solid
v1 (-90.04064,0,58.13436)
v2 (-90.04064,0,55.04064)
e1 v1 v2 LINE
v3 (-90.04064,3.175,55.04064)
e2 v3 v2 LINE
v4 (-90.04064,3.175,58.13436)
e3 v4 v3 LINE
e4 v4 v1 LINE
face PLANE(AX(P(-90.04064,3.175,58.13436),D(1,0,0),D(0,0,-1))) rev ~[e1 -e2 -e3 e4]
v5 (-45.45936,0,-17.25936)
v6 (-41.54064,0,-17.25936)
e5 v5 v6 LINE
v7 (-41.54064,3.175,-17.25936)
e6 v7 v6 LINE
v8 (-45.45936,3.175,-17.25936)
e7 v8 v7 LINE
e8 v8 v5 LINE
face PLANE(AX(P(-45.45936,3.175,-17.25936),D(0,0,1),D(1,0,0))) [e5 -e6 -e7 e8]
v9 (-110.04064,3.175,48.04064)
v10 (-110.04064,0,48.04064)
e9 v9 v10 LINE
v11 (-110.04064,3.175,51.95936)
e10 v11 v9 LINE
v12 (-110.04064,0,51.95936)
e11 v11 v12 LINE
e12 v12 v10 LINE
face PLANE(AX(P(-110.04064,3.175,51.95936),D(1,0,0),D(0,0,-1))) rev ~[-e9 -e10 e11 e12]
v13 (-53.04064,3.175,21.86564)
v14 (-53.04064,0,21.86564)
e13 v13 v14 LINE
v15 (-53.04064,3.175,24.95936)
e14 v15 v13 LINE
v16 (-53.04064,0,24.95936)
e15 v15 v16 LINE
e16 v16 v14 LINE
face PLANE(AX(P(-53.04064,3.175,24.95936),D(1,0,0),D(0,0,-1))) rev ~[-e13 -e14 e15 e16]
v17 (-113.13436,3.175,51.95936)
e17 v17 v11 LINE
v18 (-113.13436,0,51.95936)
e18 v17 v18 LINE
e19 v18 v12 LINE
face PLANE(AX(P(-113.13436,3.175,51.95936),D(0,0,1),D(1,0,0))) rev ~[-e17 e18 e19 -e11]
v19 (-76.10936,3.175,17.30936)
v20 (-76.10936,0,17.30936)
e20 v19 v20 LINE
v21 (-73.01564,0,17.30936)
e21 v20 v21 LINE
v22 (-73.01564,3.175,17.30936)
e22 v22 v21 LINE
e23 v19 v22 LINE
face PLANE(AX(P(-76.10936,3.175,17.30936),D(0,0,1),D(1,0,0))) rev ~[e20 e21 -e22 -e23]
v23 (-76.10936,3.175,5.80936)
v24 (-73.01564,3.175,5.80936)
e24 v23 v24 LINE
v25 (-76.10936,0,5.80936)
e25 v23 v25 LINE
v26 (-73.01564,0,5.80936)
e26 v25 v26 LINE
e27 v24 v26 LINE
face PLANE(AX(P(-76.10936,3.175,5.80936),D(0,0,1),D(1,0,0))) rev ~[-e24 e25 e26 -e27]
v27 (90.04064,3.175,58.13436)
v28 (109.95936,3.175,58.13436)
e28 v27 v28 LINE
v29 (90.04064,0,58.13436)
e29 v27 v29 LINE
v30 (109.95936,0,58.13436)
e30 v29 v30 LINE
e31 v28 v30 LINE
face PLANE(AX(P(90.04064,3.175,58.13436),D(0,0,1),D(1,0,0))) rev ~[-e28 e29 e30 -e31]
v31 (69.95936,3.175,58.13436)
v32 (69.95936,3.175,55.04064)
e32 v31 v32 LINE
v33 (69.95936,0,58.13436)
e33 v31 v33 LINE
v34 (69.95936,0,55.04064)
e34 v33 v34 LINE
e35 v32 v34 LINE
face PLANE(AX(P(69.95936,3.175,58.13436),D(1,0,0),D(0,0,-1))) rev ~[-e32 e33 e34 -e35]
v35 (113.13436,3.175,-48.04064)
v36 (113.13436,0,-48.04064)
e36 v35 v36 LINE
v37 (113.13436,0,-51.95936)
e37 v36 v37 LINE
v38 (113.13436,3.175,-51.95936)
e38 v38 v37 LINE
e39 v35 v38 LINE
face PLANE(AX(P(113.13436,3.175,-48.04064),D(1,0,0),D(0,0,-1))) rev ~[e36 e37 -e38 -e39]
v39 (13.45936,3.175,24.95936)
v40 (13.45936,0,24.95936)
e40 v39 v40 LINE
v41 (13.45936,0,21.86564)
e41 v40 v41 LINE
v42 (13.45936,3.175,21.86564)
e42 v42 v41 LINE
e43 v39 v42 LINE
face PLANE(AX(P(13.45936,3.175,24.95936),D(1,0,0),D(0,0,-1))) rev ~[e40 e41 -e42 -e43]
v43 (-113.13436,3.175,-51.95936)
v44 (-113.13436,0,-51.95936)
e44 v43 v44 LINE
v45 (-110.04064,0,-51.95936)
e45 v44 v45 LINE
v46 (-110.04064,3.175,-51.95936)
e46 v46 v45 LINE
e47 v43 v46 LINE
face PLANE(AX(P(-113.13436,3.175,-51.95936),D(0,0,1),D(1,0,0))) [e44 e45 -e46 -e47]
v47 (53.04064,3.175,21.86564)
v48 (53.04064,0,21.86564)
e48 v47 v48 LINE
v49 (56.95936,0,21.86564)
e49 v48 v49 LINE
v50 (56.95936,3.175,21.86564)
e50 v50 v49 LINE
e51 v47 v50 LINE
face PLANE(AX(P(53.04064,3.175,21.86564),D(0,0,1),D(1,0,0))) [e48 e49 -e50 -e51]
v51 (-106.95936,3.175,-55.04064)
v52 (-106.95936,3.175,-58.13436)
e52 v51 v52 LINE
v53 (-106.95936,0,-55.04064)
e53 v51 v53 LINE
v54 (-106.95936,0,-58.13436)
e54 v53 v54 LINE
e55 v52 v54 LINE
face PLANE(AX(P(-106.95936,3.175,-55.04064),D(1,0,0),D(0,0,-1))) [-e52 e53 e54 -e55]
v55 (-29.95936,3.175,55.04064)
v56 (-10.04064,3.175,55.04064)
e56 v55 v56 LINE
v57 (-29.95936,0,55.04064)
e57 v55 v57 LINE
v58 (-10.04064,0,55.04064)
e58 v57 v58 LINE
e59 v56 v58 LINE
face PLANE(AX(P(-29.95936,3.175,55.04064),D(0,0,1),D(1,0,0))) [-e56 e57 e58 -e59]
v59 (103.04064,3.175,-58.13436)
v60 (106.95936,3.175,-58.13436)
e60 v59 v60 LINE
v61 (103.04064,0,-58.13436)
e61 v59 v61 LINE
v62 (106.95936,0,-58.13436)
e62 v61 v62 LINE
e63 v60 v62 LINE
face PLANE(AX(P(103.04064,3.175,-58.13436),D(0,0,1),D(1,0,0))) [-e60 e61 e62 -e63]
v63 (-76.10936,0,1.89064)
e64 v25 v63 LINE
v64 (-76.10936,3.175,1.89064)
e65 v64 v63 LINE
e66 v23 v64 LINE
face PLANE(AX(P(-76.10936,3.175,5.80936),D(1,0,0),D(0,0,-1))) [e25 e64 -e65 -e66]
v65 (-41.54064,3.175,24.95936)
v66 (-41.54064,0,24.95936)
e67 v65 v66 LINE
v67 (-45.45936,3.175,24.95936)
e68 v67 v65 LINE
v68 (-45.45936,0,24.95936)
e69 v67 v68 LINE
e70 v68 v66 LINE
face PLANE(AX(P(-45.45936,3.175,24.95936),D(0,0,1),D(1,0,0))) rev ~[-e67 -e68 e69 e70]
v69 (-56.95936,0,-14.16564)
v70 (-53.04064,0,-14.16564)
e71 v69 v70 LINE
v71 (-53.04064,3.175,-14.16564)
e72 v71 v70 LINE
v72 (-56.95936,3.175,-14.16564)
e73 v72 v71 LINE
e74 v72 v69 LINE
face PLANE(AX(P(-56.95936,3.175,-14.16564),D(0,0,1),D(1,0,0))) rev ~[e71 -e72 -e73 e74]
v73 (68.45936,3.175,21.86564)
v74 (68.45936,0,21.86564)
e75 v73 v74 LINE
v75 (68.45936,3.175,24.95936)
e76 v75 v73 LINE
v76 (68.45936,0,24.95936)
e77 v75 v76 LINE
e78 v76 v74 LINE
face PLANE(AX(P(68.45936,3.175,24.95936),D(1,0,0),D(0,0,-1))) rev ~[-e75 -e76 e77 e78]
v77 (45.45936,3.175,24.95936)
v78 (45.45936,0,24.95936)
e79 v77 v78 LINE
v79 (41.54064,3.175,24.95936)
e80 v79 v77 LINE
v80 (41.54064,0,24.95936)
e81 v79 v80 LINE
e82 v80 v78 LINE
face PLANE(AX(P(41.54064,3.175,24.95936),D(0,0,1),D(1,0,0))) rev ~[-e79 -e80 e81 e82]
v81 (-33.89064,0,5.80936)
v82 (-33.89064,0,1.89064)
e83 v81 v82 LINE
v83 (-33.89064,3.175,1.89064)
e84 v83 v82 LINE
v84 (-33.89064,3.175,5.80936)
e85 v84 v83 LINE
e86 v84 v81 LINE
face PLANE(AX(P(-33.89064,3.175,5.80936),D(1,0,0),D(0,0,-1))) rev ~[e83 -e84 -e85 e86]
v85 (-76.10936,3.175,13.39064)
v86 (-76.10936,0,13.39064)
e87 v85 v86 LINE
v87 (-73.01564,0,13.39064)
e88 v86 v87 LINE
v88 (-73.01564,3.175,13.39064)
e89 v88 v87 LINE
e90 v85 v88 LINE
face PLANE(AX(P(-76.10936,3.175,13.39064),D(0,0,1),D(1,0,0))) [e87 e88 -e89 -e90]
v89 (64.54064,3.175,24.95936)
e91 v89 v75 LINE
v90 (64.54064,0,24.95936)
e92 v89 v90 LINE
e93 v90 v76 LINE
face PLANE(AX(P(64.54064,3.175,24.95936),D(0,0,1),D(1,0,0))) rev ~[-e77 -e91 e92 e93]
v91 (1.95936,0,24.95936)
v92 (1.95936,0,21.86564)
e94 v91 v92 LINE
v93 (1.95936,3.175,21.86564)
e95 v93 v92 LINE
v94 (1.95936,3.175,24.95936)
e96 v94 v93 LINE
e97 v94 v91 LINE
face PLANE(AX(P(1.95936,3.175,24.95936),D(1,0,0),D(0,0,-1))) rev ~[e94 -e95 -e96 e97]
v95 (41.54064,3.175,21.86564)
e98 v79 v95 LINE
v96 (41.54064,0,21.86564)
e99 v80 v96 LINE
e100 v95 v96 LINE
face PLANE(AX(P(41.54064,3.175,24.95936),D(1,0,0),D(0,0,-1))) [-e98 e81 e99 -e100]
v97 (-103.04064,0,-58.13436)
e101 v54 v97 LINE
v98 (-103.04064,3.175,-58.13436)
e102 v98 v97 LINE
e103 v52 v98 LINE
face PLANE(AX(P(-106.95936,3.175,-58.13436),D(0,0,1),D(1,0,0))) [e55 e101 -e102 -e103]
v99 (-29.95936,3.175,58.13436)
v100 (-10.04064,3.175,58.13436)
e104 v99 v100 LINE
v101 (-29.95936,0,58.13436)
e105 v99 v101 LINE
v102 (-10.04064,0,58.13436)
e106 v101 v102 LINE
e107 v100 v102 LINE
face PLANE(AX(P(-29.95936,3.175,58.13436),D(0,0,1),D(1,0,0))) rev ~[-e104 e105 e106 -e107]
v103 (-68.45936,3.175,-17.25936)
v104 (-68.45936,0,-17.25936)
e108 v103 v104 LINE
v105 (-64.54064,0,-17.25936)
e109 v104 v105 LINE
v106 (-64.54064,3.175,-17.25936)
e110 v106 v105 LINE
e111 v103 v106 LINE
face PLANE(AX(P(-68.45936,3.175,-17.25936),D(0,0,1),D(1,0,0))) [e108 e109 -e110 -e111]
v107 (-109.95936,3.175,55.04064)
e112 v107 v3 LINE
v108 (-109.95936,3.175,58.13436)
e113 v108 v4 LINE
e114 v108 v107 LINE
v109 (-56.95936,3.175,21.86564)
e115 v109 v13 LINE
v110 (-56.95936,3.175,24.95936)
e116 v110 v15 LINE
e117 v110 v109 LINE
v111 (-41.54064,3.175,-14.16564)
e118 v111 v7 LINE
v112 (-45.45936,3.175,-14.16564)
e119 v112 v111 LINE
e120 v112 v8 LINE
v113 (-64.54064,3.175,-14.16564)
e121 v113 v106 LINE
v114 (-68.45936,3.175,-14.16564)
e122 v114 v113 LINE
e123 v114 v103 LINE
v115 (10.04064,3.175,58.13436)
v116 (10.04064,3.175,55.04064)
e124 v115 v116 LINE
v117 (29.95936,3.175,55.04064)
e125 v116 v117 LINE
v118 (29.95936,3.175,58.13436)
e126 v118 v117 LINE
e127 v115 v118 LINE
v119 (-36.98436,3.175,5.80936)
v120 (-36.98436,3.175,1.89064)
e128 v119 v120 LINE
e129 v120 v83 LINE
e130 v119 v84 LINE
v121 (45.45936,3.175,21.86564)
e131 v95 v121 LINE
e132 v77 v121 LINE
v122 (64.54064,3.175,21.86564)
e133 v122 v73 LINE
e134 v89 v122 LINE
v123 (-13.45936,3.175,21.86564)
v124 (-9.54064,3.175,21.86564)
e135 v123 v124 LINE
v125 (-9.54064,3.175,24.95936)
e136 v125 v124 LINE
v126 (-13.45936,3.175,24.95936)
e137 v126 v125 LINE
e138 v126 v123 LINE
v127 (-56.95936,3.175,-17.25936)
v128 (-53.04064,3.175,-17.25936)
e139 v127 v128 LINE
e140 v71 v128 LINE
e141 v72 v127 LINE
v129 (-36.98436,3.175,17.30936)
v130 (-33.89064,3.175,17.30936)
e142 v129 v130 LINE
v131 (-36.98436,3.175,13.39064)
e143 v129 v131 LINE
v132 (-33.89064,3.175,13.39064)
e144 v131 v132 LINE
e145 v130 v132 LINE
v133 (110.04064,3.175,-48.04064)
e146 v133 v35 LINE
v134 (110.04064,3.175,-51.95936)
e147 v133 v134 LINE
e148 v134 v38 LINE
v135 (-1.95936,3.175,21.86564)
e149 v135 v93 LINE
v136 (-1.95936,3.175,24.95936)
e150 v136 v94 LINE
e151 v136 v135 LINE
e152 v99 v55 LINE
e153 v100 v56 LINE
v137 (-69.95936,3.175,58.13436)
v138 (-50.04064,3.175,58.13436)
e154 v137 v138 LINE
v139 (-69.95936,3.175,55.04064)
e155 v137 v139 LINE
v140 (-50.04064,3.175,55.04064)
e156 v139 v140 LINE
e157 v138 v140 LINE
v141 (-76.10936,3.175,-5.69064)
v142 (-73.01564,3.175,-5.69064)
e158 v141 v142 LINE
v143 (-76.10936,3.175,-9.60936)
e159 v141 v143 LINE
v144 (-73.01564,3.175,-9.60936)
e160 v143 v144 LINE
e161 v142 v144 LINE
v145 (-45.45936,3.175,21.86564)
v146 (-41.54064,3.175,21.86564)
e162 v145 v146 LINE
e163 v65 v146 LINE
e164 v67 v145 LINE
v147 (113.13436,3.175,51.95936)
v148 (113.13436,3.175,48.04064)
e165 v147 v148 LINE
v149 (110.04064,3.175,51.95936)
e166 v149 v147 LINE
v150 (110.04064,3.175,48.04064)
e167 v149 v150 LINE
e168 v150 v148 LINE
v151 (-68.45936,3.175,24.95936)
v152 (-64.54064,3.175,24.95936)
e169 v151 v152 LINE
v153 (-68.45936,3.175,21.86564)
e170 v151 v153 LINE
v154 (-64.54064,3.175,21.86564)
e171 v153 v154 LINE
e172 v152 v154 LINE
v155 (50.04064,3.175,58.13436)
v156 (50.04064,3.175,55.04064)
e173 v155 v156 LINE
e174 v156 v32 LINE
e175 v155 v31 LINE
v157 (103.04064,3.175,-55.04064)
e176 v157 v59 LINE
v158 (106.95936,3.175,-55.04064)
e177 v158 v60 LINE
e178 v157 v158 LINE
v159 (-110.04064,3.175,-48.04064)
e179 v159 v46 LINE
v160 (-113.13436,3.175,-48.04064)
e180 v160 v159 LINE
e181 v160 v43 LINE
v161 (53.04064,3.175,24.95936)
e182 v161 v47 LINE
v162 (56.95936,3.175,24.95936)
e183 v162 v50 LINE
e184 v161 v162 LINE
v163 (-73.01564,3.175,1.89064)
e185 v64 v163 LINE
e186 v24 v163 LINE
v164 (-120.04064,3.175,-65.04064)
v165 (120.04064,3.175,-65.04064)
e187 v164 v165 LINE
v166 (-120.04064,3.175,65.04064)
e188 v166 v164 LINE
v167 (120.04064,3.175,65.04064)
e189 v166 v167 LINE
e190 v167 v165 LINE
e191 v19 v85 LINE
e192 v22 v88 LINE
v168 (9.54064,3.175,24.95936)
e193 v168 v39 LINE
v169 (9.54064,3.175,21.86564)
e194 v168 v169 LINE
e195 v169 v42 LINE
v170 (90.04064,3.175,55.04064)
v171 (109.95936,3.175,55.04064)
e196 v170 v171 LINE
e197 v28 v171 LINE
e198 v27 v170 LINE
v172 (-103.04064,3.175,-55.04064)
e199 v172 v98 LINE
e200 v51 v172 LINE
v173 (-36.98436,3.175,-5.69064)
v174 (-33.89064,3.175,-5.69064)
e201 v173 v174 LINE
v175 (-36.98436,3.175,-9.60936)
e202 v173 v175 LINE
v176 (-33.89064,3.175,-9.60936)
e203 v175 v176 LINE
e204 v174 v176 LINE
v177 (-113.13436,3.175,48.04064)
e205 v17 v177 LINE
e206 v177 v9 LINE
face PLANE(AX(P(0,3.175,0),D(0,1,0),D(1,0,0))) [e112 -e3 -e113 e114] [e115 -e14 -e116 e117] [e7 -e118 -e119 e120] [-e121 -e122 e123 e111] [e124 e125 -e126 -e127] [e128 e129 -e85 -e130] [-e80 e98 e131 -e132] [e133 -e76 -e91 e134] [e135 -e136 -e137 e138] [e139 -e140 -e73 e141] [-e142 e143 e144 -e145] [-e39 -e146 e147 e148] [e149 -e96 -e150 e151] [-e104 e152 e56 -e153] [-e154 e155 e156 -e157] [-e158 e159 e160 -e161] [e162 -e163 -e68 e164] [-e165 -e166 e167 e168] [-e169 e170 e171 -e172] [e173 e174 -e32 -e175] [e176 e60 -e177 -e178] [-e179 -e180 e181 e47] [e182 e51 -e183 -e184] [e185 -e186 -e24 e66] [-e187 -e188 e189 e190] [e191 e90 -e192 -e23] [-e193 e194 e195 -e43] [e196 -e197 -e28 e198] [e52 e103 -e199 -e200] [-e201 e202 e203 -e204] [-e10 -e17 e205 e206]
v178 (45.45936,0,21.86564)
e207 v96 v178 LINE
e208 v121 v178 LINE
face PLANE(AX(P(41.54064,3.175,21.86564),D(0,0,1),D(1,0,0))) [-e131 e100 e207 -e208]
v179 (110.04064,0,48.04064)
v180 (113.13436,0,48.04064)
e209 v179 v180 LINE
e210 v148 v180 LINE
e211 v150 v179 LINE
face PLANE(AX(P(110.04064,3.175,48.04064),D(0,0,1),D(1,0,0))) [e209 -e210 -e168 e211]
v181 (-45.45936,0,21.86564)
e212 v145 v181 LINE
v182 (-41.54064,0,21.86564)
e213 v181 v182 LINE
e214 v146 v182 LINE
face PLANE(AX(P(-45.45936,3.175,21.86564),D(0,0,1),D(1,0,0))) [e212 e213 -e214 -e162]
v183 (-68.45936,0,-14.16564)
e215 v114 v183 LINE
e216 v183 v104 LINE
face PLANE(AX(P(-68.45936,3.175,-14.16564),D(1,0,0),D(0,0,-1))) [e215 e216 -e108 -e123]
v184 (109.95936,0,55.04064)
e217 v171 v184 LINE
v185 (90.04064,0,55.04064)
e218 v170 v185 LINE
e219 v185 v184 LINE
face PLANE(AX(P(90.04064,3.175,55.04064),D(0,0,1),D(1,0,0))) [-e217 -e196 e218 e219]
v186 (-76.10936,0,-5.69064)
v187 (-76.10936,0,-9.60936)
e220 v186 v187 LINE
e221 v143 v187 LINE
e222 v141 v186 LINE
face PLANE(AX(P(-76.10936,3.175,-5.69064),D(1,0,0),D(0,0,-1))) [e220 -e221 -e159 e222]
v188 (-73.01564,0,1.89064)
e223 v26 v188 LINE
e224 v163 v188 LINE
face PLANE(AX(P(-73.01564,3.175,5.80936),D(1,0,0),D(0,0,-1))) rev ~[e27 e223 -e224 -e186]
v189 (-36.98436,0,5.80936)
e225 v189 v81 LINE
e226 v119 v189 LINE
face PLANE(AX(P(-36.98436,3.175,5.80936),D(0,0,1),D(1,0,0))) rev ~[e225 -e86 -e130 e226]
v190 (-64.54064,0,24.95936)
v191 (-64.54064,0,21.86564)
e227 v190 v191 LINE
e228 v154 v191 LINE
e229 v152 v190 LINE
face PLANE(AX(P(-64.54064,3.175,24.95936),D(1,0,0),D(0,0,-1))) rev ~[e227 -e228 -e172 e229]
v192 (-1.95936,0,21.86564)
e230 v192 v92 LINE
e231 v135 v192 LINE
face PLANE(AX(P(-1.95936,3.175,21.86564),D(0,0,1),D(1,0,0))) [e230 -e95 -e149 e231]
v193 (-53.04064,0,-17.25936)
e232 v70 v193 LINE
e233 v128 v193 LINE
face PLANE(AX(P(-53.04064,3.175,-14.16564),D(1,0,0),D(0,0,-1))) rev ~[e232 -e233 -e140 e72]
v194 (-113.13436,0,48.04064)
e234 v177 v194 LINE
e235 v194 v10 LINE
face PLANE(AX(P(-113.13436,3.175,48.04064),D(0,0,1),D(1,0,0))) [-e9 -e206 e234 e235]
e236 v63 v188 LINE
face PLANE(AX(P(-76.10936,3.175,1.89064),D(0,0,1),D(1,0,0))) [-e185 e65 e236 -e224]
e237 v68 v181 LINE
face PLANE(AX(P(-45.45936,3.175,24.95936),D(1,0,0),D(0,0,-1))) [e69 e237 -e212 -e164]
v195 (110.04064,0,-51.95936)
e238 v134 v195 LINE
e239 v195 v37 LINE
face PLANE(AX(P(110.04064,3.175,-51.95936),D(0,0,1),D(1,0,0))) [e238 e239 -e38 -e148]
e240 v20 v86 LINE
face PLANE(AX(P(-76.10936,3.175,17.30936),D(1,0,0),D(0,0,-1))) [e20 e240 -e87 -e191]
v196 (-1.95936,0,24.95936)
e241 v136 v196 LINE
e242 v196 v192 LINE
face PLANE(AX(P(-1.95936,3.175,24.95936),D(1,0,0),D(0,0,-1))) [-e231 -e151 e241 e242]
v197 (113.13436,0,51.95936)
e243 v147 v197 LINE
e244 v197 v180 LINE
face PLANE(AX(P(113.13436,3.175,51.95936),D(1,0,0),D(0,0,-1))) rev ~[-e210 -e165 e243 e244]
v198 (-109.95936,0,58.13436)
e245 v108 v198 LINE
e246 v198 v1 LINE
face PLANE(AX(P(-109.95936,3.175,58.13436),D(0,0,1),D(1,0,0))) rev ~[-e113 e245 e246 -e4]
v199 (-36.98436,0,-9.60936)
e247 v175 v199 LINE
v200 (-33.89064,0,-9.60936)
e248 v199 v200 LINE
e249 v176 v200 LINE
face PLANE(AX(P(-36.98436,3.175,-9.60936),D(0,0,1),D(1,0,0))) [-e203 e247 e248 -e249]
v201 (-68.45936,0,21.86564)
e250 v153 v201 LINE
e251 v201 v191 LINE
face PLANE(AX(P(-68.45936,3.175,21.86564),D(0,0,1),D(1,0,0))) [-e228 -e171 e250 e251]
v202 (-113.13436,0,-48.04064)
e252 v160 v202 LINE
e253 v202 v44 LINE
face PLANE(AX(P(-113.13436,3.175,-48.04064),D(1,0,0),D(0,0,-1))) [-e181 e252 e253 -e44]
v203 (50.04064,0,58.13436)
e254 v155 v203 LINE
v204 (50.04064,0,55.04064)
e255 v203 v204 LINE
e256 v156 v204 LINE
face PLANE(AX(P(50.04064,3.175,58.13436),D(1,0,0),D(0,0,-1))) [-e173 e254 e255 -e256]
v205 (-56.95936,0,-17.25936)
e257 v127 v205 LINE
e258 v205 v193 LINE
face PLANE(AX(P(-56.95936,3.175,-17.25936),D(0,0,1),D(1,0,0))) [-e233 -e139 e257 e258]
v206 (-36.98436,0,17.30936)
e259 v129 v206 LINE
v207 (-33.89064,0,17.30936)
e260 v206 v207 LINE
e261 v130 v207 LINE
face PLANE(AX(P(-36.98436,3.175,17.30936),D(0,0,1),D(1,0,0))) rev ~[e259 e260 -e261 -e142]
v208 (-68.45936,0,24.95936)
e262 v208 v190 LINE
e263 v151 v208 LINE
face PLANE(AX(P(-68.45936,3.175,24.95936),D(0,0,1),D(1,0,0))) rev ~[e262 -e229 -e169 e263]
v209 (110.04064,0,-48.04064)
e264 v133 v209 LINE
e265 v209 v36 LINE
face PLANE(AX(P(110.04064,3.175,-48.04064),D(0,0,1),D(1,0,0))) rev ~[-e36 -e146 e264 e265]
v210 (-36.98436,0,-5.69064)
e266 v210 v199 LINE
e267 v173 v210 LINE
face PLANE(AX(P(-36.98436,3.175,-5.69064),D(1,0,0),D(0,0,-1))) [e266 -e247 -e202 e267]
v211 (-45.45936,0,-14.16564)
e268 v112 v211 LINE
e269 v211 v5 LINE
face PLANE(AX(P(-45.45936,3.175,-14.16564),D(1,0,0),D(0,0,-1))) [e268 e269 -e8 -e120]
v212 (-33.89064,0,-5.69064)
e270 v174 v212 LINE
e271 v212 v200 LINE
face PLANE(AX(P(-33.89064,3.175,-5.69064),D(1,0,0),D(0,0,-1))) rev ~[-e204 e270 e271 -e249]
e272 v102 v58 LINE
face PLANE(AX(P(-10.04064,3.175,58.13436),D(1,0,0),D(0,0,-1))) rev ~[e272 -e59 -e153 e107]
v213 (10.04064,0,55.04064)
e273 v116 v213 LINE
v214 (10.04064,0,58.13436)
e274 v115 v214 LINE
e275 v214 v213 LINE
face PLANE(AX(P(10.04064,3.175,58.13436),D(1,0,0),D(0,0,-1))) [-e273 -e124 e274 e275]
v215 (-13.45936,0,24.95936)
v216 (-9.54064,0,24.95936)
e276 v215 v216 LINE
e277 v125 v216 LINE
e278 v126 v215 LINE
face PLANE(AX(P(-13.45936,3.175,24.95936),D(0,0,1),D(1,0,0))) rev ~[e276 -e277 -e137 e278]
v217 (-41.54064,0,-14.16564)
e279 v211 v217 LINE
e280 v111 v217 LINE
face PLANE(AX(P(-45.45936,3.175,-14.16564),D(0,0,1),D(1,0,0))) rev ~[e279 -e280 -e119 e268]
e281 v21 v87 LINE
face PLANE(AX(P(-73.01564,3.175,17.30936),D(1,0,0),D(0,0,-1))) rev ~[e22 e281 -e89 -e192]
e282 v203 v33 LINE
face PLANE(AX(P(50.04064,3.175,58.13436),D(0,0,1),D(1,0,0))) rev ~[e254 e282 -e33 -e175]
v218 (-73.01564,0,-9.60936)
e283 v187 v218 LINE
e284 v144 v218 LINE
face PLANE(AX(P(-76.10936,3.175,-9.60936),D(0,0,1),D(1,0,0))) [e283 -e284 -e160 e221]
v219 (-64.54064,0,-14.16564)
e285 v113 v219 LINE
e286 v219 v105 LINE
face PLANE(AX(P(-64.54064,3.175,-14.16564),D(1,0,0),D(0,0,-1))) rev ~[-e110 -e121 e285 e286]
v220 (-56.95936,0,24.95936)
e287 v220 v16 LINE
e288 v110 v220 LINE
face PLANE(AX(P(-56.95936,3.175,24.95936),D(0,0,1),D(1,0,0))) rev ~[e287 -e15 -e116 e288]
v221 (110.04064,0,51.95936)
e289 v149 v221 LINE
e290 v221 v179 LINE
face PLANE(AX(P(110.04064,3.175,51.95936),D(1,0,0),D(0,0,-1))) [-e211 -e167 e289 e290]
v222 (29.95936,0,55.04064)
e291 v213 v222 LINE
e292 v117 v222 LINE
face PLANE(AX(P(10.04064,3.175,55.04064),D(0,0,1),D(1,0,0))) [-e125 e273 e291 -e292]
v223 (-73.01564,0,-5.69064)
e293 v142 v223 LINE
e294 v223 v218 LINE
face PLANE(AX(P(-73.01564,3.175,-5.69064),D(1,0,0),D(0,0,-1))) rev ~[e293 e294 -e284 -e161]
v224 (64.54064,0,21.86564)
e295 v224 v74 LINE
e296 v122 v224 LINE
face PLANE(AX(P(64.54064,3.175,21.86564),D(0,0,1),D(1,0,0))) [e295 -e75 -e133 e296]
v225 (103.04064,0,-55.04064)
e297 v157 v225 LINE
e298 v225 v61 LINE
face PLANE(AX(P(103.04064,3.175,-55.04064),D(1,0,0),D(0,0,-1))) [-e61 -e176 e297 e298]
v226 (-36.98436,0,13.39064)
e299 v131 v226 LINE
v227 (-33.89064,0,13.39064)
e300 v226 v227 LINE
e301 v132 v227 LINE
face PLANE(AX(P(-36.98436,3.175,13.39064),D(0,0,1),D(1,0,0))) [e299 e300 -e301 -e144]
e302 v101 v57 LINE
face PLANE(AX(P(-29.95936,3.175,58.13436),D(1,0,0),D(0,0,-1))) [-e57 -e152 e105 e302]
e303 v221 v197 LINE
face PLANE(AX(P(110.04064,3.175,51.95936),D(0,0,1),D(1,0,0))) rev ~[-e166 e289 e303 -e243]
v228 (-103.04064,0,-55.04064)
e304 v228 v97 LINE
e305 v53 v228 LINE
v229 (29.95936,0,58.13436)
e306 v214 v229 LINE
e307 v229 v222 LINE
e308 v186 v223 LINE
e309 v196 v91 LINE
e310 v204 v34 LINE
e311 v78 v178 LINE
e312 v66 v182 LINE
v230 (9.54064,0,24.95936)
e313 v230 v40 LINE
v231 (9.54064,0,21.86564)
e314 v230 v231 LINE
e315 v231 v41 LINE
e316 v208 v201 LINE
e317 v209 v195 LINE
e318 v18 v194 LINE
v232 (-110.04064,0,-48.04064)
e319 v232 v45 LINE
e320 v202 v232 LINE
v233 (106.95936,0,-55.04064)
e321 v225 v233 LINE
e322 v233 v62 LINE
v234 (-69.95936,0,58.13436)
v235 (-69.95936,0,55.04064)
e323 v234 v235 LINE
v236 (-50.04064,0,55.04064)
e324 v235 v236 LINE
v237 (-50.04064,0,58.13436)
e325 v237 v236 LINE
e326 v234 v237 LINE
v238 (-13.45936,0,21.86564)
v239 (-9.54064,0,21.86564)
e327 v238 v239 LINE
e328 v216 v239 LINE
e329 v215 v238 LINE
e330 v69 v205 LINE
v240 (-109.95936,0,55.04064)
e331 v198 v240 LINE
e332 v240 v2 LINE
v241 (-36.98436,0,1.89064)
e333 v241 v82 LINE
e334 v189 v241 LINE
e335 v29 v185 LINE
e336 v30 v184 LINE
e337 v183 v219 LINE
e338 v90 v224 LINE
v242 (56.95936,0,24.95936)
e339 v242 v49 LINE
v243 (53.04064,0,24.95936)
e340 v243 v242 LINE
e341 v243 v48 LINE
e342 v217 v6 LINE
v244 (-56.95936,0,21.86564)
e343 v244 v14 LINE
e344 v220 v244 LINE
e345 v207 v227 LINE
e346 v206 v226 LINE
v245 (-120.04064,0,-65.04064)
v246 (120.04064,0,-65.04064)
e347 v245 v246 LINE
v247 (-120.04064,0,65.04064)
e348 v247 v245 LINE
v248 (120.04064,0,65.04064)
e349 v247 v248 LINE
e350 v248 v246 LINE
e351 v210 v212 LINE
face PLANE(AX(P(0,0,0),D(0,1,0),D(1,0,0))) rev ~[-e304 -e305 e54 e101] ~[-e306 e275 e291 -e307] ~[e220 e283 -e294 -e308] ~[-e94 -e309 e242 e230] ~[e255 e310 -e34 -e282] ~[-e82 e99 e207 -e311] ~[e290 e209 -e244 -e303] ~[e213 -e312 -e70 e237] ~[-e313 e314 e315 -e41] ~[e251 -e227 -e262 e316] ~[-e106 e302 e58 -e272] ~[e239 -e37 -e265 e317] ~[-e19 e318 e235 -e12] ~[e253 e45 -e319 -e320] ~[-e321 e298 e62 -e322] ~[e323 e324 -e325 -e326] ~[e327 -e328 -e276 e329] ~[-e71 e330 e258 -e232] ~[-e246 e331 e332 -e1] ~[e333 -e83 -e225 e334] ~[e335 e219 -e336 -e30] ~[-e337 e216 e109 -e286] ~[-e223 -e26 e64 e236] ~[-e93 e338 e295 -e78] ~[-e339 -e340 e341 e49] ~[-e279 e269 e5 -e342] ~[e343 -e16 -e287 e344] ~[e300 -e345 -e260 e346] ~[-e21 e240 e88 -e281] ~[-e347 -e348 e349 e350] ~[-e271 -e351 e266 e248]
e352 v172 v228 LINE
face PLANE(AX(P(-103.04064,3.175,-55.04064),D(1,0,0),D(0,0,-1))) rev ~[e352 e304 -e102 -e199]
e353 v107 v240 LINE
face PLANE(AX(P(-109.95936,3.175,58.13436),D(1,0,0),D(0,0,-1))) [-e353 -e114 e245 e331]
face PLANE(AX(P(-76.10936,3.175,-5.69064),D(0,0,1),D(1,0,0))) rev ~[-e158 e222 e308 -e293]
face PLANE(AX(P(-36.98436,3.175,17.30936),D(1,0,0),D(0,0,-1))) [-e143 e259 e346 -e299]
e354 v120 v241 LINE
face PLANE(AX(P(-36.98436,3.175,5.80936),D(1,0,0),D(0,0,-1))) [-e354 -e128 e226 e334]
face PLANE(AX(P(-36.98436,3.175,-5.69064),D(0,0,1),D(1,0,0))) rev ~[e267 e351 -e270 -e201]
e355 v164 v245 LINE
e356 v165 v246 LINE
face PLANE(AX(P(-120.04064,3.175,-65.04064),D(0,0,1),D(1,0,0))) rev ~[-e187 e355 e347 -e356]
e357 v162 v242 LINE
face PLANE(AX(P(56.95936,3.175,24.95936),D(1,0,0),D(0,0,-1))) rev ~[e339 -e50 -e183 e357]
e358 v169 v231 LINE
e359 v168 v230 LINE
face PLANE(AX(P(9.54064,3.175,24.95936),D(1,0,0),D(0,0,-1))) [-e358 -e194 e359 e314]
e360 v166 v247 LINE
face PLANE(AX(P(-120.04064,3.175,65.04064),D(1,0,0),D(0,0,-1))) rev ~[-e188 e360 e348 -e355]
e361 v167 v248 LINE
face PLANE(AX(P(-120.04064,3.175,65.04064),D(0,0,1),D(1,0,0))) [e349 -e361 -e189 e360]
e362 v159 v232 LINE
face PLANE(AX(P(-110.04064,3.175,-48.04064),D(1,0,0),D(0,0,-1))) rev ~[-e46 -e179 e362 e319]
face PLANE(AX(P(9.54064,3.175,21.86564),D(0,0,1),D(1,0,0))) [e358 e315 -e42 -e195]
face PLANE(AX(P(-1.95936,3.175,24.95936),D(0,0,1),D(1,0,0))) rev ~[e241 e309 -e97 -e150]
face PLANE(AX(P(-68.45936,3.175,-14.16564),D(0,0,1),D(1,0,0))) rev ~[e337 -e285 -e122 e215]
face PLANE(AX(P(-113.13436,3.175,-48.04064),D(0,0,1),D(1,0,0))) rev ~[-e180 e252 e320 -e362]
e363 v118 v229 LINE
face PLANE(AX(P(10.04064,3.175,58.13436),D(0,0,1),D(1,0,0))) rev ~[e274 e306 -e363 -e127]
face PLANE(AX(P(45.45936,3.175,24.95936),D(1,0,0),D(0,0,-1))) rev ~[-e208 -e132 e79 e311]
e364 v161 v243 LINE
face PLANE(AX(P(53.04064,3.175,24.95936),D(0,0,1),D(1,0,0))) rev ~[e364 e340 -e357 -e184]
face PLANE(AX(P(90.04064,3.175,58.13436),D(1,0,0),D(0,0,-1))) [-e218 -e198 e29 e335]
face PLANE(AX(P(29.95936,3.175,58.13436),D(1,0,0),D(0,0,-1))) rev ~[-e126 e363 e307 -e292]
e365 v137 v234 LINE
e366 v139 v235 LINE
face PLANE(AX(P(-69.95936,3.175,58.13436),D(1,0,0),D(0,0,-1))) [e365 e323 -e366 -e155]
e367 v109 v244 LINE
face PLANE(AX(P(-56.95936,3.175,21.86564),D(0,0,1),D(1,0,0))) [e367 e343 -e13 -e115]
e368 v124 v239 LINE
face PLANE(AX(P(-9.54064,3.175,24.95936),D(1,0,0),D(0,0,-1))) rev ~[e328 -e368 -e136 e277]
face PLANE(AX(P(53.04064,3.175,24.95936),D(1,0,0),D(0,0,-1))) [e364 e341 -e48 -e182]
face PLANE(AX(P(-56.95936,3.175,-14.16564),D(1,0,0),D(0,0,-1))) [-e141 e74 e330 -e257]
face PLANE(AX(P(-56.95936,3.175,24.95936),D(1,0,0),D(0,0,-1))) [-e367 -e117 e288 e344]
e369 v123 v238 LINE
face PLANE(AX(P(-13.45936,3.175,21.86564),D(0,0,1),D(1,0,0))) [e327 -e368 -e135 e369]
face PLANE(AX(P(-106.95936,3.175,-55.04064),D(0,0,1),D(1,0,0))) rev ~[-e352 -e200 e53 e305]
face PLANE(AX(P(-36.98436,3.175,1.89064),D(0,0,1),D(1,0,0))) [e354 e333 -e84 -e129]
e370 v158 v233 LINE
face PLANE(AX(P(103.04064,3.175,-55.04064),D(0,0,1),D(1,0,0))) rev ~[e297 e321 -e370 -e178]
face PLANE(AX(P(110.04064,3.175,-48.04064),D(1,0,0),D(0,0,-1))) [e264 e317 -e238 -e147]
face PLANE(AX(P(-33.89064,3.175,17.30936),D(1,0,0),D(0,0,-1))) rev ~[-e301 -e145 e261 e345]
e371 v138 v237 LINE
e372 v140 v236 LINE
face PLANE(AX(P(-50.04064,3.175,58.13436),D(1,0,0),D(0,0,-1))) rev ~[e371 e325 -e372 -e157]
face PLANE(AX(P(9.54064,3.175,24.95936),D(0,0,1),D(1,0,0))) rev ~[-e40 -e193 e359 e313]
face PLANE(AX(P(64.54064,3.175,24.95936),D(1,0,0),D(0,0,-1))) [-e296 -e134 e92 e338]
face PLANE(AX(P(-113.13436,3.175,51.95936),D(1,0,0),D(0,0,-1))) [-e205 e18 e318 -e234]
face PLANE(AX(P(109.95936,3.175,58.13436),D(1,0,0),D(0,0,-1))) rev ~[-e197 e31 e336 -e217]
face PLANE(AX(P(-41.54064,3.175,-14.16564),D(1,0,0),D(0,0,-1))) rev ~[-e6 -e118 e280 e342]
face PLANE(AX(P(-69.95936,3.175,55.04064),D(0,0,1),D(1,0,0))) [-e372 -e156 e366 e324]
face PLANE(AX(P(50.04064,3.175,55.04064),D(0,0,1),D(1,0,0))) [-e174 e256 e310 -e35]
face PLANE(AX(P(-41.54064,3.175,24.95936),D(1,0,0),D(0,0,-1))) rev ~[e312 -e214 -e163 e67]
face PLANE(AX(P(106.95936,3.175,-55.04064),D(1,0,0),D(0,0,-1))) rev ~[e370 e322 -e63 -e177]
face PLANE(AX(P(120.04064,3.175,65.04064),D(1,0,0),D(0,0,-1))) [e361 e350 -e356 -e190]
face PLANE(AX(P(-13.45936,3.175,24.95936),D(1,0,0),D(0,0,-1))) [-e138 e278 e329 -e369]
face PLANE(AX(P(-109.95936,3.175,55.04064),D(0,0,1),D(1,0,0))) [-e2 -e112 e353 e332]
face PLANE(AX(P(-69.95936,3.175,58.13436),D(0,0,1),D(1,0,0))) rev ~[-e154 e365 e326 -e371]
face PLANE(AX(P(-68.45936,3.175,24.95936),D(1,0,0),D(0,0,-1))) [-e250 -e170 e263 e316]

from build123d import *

# Parameters (mm, degrees)
SKETCH1_W           = 240
SKETCH1_H           = 130
SKETCH1_W_2         = 3.175
SKETCH1_H_2         = 4
SKETCH1_W_3         = 20
SKETCH1_H_3         = 3.175
SKETCH1_W_4         = 4
BOSS_EXTRUDE1_DEPTH = 3.175
SKETCH2_W           = 240.08128
SKETCH2_H           = 130.08128
SKETCH2_W_2         = 3.91872
SKETCH2_H_2         = 3.09372
SKETCH2_W_3         = 3.09372
SKETCH2_H_3         = 3.91872
SKETCH2_W_4         = 19.91872
BOSS_EXTRUDE2_DEPTH = 3.175


with BuildPart() as part:
    # Sketch1 → Boss-Extrude1 (new body)
    with BuildSketch(Plane(origin=(0, 0, 0), x_dir=(1, 0, 0), z_dir=(0, 1, 0))):
        Rectangle(SKETCH1_W, SKETCH1_H)
        with Locations((-111.5875, -50)):
            Rectangle(SKETCH1_W_2, SKETCH1_H_2, mode=Mode.SUBTRACT)
        with Locations((-100, -56.5875)):
            Rectangle(SKETCH1_W_3, SKETCH1_H_3, mode=Mode.SUBTRACT)
        with Locations((-60, -56.5875)):
            Rectangle(SKETCH1_W_3, SKETCH1_H_3, mode=Mode.SUBTRACT)
        with Locations((-20, -56.5875)):
            Rectangle(SKETCH1_W_3, SKETCH1_H_3, mode=Mode.SUBTRACT)
        with Locations((-11.5, -23.4125)):
            Rectangle(SKETCH1_W_4, SKETCH1_H_3, mode=Mode.SUBTRACT)
        with Locations((-66.5, -23.4125)):
            Rectangle(SKETCH1_W_4, SKETCH1_H_3, mode=Mode.SUBTRACT)
        with Locations((-55, -23.4125)):
            Rectangle(SKETCH1_W_4, SKETCH1_H_3, mode=Mode.SUBTRACT)
        with Locations((-43.5, -23.4125)):
            Rectangle(SKETCH1_W_4, SKETCH1_H_3, mode=Mode.SUBTRACT)
        with Locations((-35.4375, -15.35)):
            Rectangle(SKETCH1_W_2, SKETCH1_H_2, mode=Mode.SUBTRACT)
        with Locations((-35.4375, -3.85)):
            Rectangle(SKETCH1_W_2, SKETCH1_H_2, mode=Mode.SUBTRACT)
        with Locations((-35.4375, 7.65)):
            Rectangle(SKETCH1_W_2, SKETCH1_H_2, mode=Mode.SUBTRACT)
        with Locations((-43.5, 15.7125)):
            Rectangle(SKETCH1_W_4, SKETCH1_H_3, mode=Mode.SUBTRACT)
        with Locations((-55, 15.7125)):
            Rectangle(SKETCH1_W_4, SKETCH1_H_3, mode=Mode.SUBTRACT)
        with Locations((-66.5, 15.7125)):
            Rectangle(SKETCH1_W_4, SKETCH1_H_3, mode=Mode.SUBTRACT)
        with Locations((-74.5625, 7.65)):
            Rectangle(SKETCH1_W_2, SKETCH1_H_2, mode=Mode.SUBTRACT)
        with Locations((-74.5625, -3.85)):
            Rectangle(SKETCH1_W_2, SKETCH1_H_2, mode=Mode.SUBTRACT)
        with Locations((-74.5625, -15.35)):
            Rectangle(SKETCH1_W_2, SKETCH1_H_2, mode=Mode.SUBTRACT)
        with Locations((20, -56.5875)):
            Rectangle(SKETCH1_W_3, SKETCH1_H_3, mode=Mode.SUBTRACT)
        with Locations((60, -56.5875)):
            Rectangle(SKETCH1_W_3, SKETCH1_H_3, mode=Mode.SUBTRACT)
        with Locations((100, -56.5875)):
            Rectangle(SKETCH1_W_3, SKETCH1_H_3, mode=Mode.SUBTRACT)
        with Locations((111.5875, -50)):
            Rectangle(SKETCH1_W_2, SKETCH1_H_2, mode=Mode.SUBTRACT)
        with Locations((0, -23.4125)):
            Rectangle(SKETCH1_W_4, SKETCH1_H_3, mode=Mode.SUBTRACT)
        with Locations((11.5, -23.4125)):
            Rectangle(SKETCH1_W_4, SKETCH1_H_3, mode=Mode.SUBTRACT)
        with Locations((43.5, -23.4125)):
            Rectangle(SKETCH1_W_4, SKETCH1_H_3, mode=Mode.SUBTRACT)
        with Locations((55, -23.4125)):
            Rectangle(SKETCH1_W_4, SKETCH1_H_3, mode=Mode.SUBTRACT)
        with Locations((66.5, -23.4125)):
            Rectangle(SKETCH1_W_4, SKETCH1_H_3, mode=Mode.SUBTRACT)
        with Locations((-111.5875, 50)):
            Rectangle(SKETCH1_W_2, SKETCH1_H_2, mode=Mode.SUBTRACT)
        with Locations((-105, 56.5875)):
            Rectangle(SKETCH1_W_4, SKETCH1_H_3, mode=Mode.SUBTRACT)
        with Locations((105, 56.5875)):
            Rectangle(SKETCH1_W_4, SKETCH1_H_3, mode=Mode.SUBTRACT)
        with Locations((111.5875, 50)):
            Rectangle(SKETCH1_W_2, SKETCH1_H_2, mode=Mode.SUBTRACT)
    extrude(amount=BOSS_EXTRUDE1_DEPTH)

    # Sketch2 → Boss-Extrude2 (add)
    with BuildSketch(Plane(origin=(0, 3.175, 0), x_dir=(1, 0, 0), z_dir=(0, 1, 0))):
        Rectangle(SKETCH2_W, SKETCH2_H)
        with Locations((-105, 56.5875)):
            Rectangle(SKETCH2_W_2, SKETCH2_H_2, mode=Mode.SUBTRACT)
        with Locations((-74.5625, -3.85)):
            Rectangle(SKETCH2_W_3, SKETCH2_H_3, mode=Mode.SUBTRACT)
        with Locations((-35.4375, 7.65)):
            Rectangle(SKETCH2_W_3, SKETCH2_H_3, mode=Mode.SUBTRACT)
        with Locations((-111.5875, 50)):
            Rectangle(SKETCH2_W_3, SKETCH2_H_3, mode=Mode.SUBTRACT)
        with Locations((-74.5625, -15.35)):
            Rectangle(SKETCH2_W_3, SKETCH2_H_3, mode=Mode.SUBTRACT)
        with Locations((105, 56.5875)):
            Rectangle(SKETCH2_W_2, SKETCH2_H_2, mode=Mode.SUBTRACT)
        with Locations((-11.5, -23.4125)):
            Rectangle(SKETCH2_W_2, SKETCH2_H_2, mode=Mode.SUBTRACT)
        with Locations((111.5875, 50)):
            Rectangle(SKETCH2_W_3, SKETCH2_H_3, mode=Mode.SUBTRACT)
        with Locations((-66.5, 15.7125)):
            Rectangle(SKETCH2_W_2, SKETCH2_H_2, mode=Mode.SUBTRACT)
        with Locations((-35.4375, -3.85)):
            Rectangle(SKETCH2_W_3, SKETCH2_H_3, mode=Mode.SUBTRACT)
        with Locations((-111.5875, -50)):
            Rectangle(SKETCH2_W_3, SKETCH2_H_3, mode=Mode.SUBTRACT)
        with Locations((-55, 15.7125)):
            Rectangle(SKETCH2_W_2, SKETCH2_H_2, mode=Mode.SUBTRACT)
        with Locations((-100, -56.5875)):
            Rectangle(SKETCH2_W_4, SKETCH2_H_2, mode=Mode.SUBTRACT)
        with Locations((-35.4375, -15.35)):
            Rectangle(SKETCH2_W_3, SKETCH2_H_3, mode=Mode.SUBTRACT)
        with Locations((-60, -56.5875)):
            Rectangle(SKETCH2_W_4, SKETCH2_H_2, mode=Mode.SUBTRACT)
        with Locations((-43.5, 15.7125)):
            Rectangle(SKETCH2_W_2, SKETCH2_H_2, mode=Mode.SUBTRACT)
        with Locations((-20, -56.5875)):
            Rectangle(SKETCH2_W_4, SKETCH2_H_2, mode=Mode.SUBTRACT)
        with Locations((0, -23.4125)):
            Rectangle(SKETCH2_W_2, SKETCH2_H_2, mode=Mode.SUBTRACT)
        with Locations((20, -56.5875)):
            Rectangle(SKETCH2_W_4, SKETCH2_H_2, mode=Mode.SUBTRACT)
        with Locations((-66.5, -23.4125)):
            Rectangle(SKETCH2_W_2, SKETCH2_H_2, mode=Mode.SUBTRACT)
        with Locations((60, -56.5875)):
            Rectangle(SKETCH2_W_4, SKETCH2_H_2, mode=Mode.SUBTRACT)
        with Locations((-55, -23.4125)):
            Rectangle(SKETCH2_W_2, SKETCH2_H_2, mode=Mode.SUBTRACT)
        with Locations((100, -56.5875)):
            Rectangle(SKETCH2_W_4, SKETCH2_H_2, mode=Mode.SUBTRACT)
        with Locations((11.5, -23.4125)):
            Rectangle(SKETCH2_W_2, SKETCH2_H_2, mode=Mode.SUBTRACT)
        with Locations((-43.5, -23.4125)):
            Rectangle(SKETCH2_W_2, SKETCH2_H_2, mode=Mode.SUBTRACT)
        with Locations((111.5875, -50)):
            Rectangle(SKETCH2_W_3, SKETCH2_H_3, mode=Mode.SUBTRACT)
        with Locations((-74.5625, 7.65)):
            Rectangle(SKETCH2_W_3, SKETCH2_H_3, mode=Mode.SUBTRACT)
        with Locations((43.5, -23.4125)):
            Rectangle(SKETCH2_W_2, SKETCH2_H_2, mode=Mode.SUBTRACT)
        with Locations((55, -23.4125)):
            Rectangle(SKETCH2_W_2, SKETCH2_H_2, mode=Mode.SUBTRACT)
        with Locations((66.5, -23.4125)):
            Rectangle(SKETCH2_W_2, SKETCH2_H_2, mode=Mode.SUBTRACT)
    extrude(amount=-BOSS_EXTRUDE2_DEPTH)


solid = part.part
